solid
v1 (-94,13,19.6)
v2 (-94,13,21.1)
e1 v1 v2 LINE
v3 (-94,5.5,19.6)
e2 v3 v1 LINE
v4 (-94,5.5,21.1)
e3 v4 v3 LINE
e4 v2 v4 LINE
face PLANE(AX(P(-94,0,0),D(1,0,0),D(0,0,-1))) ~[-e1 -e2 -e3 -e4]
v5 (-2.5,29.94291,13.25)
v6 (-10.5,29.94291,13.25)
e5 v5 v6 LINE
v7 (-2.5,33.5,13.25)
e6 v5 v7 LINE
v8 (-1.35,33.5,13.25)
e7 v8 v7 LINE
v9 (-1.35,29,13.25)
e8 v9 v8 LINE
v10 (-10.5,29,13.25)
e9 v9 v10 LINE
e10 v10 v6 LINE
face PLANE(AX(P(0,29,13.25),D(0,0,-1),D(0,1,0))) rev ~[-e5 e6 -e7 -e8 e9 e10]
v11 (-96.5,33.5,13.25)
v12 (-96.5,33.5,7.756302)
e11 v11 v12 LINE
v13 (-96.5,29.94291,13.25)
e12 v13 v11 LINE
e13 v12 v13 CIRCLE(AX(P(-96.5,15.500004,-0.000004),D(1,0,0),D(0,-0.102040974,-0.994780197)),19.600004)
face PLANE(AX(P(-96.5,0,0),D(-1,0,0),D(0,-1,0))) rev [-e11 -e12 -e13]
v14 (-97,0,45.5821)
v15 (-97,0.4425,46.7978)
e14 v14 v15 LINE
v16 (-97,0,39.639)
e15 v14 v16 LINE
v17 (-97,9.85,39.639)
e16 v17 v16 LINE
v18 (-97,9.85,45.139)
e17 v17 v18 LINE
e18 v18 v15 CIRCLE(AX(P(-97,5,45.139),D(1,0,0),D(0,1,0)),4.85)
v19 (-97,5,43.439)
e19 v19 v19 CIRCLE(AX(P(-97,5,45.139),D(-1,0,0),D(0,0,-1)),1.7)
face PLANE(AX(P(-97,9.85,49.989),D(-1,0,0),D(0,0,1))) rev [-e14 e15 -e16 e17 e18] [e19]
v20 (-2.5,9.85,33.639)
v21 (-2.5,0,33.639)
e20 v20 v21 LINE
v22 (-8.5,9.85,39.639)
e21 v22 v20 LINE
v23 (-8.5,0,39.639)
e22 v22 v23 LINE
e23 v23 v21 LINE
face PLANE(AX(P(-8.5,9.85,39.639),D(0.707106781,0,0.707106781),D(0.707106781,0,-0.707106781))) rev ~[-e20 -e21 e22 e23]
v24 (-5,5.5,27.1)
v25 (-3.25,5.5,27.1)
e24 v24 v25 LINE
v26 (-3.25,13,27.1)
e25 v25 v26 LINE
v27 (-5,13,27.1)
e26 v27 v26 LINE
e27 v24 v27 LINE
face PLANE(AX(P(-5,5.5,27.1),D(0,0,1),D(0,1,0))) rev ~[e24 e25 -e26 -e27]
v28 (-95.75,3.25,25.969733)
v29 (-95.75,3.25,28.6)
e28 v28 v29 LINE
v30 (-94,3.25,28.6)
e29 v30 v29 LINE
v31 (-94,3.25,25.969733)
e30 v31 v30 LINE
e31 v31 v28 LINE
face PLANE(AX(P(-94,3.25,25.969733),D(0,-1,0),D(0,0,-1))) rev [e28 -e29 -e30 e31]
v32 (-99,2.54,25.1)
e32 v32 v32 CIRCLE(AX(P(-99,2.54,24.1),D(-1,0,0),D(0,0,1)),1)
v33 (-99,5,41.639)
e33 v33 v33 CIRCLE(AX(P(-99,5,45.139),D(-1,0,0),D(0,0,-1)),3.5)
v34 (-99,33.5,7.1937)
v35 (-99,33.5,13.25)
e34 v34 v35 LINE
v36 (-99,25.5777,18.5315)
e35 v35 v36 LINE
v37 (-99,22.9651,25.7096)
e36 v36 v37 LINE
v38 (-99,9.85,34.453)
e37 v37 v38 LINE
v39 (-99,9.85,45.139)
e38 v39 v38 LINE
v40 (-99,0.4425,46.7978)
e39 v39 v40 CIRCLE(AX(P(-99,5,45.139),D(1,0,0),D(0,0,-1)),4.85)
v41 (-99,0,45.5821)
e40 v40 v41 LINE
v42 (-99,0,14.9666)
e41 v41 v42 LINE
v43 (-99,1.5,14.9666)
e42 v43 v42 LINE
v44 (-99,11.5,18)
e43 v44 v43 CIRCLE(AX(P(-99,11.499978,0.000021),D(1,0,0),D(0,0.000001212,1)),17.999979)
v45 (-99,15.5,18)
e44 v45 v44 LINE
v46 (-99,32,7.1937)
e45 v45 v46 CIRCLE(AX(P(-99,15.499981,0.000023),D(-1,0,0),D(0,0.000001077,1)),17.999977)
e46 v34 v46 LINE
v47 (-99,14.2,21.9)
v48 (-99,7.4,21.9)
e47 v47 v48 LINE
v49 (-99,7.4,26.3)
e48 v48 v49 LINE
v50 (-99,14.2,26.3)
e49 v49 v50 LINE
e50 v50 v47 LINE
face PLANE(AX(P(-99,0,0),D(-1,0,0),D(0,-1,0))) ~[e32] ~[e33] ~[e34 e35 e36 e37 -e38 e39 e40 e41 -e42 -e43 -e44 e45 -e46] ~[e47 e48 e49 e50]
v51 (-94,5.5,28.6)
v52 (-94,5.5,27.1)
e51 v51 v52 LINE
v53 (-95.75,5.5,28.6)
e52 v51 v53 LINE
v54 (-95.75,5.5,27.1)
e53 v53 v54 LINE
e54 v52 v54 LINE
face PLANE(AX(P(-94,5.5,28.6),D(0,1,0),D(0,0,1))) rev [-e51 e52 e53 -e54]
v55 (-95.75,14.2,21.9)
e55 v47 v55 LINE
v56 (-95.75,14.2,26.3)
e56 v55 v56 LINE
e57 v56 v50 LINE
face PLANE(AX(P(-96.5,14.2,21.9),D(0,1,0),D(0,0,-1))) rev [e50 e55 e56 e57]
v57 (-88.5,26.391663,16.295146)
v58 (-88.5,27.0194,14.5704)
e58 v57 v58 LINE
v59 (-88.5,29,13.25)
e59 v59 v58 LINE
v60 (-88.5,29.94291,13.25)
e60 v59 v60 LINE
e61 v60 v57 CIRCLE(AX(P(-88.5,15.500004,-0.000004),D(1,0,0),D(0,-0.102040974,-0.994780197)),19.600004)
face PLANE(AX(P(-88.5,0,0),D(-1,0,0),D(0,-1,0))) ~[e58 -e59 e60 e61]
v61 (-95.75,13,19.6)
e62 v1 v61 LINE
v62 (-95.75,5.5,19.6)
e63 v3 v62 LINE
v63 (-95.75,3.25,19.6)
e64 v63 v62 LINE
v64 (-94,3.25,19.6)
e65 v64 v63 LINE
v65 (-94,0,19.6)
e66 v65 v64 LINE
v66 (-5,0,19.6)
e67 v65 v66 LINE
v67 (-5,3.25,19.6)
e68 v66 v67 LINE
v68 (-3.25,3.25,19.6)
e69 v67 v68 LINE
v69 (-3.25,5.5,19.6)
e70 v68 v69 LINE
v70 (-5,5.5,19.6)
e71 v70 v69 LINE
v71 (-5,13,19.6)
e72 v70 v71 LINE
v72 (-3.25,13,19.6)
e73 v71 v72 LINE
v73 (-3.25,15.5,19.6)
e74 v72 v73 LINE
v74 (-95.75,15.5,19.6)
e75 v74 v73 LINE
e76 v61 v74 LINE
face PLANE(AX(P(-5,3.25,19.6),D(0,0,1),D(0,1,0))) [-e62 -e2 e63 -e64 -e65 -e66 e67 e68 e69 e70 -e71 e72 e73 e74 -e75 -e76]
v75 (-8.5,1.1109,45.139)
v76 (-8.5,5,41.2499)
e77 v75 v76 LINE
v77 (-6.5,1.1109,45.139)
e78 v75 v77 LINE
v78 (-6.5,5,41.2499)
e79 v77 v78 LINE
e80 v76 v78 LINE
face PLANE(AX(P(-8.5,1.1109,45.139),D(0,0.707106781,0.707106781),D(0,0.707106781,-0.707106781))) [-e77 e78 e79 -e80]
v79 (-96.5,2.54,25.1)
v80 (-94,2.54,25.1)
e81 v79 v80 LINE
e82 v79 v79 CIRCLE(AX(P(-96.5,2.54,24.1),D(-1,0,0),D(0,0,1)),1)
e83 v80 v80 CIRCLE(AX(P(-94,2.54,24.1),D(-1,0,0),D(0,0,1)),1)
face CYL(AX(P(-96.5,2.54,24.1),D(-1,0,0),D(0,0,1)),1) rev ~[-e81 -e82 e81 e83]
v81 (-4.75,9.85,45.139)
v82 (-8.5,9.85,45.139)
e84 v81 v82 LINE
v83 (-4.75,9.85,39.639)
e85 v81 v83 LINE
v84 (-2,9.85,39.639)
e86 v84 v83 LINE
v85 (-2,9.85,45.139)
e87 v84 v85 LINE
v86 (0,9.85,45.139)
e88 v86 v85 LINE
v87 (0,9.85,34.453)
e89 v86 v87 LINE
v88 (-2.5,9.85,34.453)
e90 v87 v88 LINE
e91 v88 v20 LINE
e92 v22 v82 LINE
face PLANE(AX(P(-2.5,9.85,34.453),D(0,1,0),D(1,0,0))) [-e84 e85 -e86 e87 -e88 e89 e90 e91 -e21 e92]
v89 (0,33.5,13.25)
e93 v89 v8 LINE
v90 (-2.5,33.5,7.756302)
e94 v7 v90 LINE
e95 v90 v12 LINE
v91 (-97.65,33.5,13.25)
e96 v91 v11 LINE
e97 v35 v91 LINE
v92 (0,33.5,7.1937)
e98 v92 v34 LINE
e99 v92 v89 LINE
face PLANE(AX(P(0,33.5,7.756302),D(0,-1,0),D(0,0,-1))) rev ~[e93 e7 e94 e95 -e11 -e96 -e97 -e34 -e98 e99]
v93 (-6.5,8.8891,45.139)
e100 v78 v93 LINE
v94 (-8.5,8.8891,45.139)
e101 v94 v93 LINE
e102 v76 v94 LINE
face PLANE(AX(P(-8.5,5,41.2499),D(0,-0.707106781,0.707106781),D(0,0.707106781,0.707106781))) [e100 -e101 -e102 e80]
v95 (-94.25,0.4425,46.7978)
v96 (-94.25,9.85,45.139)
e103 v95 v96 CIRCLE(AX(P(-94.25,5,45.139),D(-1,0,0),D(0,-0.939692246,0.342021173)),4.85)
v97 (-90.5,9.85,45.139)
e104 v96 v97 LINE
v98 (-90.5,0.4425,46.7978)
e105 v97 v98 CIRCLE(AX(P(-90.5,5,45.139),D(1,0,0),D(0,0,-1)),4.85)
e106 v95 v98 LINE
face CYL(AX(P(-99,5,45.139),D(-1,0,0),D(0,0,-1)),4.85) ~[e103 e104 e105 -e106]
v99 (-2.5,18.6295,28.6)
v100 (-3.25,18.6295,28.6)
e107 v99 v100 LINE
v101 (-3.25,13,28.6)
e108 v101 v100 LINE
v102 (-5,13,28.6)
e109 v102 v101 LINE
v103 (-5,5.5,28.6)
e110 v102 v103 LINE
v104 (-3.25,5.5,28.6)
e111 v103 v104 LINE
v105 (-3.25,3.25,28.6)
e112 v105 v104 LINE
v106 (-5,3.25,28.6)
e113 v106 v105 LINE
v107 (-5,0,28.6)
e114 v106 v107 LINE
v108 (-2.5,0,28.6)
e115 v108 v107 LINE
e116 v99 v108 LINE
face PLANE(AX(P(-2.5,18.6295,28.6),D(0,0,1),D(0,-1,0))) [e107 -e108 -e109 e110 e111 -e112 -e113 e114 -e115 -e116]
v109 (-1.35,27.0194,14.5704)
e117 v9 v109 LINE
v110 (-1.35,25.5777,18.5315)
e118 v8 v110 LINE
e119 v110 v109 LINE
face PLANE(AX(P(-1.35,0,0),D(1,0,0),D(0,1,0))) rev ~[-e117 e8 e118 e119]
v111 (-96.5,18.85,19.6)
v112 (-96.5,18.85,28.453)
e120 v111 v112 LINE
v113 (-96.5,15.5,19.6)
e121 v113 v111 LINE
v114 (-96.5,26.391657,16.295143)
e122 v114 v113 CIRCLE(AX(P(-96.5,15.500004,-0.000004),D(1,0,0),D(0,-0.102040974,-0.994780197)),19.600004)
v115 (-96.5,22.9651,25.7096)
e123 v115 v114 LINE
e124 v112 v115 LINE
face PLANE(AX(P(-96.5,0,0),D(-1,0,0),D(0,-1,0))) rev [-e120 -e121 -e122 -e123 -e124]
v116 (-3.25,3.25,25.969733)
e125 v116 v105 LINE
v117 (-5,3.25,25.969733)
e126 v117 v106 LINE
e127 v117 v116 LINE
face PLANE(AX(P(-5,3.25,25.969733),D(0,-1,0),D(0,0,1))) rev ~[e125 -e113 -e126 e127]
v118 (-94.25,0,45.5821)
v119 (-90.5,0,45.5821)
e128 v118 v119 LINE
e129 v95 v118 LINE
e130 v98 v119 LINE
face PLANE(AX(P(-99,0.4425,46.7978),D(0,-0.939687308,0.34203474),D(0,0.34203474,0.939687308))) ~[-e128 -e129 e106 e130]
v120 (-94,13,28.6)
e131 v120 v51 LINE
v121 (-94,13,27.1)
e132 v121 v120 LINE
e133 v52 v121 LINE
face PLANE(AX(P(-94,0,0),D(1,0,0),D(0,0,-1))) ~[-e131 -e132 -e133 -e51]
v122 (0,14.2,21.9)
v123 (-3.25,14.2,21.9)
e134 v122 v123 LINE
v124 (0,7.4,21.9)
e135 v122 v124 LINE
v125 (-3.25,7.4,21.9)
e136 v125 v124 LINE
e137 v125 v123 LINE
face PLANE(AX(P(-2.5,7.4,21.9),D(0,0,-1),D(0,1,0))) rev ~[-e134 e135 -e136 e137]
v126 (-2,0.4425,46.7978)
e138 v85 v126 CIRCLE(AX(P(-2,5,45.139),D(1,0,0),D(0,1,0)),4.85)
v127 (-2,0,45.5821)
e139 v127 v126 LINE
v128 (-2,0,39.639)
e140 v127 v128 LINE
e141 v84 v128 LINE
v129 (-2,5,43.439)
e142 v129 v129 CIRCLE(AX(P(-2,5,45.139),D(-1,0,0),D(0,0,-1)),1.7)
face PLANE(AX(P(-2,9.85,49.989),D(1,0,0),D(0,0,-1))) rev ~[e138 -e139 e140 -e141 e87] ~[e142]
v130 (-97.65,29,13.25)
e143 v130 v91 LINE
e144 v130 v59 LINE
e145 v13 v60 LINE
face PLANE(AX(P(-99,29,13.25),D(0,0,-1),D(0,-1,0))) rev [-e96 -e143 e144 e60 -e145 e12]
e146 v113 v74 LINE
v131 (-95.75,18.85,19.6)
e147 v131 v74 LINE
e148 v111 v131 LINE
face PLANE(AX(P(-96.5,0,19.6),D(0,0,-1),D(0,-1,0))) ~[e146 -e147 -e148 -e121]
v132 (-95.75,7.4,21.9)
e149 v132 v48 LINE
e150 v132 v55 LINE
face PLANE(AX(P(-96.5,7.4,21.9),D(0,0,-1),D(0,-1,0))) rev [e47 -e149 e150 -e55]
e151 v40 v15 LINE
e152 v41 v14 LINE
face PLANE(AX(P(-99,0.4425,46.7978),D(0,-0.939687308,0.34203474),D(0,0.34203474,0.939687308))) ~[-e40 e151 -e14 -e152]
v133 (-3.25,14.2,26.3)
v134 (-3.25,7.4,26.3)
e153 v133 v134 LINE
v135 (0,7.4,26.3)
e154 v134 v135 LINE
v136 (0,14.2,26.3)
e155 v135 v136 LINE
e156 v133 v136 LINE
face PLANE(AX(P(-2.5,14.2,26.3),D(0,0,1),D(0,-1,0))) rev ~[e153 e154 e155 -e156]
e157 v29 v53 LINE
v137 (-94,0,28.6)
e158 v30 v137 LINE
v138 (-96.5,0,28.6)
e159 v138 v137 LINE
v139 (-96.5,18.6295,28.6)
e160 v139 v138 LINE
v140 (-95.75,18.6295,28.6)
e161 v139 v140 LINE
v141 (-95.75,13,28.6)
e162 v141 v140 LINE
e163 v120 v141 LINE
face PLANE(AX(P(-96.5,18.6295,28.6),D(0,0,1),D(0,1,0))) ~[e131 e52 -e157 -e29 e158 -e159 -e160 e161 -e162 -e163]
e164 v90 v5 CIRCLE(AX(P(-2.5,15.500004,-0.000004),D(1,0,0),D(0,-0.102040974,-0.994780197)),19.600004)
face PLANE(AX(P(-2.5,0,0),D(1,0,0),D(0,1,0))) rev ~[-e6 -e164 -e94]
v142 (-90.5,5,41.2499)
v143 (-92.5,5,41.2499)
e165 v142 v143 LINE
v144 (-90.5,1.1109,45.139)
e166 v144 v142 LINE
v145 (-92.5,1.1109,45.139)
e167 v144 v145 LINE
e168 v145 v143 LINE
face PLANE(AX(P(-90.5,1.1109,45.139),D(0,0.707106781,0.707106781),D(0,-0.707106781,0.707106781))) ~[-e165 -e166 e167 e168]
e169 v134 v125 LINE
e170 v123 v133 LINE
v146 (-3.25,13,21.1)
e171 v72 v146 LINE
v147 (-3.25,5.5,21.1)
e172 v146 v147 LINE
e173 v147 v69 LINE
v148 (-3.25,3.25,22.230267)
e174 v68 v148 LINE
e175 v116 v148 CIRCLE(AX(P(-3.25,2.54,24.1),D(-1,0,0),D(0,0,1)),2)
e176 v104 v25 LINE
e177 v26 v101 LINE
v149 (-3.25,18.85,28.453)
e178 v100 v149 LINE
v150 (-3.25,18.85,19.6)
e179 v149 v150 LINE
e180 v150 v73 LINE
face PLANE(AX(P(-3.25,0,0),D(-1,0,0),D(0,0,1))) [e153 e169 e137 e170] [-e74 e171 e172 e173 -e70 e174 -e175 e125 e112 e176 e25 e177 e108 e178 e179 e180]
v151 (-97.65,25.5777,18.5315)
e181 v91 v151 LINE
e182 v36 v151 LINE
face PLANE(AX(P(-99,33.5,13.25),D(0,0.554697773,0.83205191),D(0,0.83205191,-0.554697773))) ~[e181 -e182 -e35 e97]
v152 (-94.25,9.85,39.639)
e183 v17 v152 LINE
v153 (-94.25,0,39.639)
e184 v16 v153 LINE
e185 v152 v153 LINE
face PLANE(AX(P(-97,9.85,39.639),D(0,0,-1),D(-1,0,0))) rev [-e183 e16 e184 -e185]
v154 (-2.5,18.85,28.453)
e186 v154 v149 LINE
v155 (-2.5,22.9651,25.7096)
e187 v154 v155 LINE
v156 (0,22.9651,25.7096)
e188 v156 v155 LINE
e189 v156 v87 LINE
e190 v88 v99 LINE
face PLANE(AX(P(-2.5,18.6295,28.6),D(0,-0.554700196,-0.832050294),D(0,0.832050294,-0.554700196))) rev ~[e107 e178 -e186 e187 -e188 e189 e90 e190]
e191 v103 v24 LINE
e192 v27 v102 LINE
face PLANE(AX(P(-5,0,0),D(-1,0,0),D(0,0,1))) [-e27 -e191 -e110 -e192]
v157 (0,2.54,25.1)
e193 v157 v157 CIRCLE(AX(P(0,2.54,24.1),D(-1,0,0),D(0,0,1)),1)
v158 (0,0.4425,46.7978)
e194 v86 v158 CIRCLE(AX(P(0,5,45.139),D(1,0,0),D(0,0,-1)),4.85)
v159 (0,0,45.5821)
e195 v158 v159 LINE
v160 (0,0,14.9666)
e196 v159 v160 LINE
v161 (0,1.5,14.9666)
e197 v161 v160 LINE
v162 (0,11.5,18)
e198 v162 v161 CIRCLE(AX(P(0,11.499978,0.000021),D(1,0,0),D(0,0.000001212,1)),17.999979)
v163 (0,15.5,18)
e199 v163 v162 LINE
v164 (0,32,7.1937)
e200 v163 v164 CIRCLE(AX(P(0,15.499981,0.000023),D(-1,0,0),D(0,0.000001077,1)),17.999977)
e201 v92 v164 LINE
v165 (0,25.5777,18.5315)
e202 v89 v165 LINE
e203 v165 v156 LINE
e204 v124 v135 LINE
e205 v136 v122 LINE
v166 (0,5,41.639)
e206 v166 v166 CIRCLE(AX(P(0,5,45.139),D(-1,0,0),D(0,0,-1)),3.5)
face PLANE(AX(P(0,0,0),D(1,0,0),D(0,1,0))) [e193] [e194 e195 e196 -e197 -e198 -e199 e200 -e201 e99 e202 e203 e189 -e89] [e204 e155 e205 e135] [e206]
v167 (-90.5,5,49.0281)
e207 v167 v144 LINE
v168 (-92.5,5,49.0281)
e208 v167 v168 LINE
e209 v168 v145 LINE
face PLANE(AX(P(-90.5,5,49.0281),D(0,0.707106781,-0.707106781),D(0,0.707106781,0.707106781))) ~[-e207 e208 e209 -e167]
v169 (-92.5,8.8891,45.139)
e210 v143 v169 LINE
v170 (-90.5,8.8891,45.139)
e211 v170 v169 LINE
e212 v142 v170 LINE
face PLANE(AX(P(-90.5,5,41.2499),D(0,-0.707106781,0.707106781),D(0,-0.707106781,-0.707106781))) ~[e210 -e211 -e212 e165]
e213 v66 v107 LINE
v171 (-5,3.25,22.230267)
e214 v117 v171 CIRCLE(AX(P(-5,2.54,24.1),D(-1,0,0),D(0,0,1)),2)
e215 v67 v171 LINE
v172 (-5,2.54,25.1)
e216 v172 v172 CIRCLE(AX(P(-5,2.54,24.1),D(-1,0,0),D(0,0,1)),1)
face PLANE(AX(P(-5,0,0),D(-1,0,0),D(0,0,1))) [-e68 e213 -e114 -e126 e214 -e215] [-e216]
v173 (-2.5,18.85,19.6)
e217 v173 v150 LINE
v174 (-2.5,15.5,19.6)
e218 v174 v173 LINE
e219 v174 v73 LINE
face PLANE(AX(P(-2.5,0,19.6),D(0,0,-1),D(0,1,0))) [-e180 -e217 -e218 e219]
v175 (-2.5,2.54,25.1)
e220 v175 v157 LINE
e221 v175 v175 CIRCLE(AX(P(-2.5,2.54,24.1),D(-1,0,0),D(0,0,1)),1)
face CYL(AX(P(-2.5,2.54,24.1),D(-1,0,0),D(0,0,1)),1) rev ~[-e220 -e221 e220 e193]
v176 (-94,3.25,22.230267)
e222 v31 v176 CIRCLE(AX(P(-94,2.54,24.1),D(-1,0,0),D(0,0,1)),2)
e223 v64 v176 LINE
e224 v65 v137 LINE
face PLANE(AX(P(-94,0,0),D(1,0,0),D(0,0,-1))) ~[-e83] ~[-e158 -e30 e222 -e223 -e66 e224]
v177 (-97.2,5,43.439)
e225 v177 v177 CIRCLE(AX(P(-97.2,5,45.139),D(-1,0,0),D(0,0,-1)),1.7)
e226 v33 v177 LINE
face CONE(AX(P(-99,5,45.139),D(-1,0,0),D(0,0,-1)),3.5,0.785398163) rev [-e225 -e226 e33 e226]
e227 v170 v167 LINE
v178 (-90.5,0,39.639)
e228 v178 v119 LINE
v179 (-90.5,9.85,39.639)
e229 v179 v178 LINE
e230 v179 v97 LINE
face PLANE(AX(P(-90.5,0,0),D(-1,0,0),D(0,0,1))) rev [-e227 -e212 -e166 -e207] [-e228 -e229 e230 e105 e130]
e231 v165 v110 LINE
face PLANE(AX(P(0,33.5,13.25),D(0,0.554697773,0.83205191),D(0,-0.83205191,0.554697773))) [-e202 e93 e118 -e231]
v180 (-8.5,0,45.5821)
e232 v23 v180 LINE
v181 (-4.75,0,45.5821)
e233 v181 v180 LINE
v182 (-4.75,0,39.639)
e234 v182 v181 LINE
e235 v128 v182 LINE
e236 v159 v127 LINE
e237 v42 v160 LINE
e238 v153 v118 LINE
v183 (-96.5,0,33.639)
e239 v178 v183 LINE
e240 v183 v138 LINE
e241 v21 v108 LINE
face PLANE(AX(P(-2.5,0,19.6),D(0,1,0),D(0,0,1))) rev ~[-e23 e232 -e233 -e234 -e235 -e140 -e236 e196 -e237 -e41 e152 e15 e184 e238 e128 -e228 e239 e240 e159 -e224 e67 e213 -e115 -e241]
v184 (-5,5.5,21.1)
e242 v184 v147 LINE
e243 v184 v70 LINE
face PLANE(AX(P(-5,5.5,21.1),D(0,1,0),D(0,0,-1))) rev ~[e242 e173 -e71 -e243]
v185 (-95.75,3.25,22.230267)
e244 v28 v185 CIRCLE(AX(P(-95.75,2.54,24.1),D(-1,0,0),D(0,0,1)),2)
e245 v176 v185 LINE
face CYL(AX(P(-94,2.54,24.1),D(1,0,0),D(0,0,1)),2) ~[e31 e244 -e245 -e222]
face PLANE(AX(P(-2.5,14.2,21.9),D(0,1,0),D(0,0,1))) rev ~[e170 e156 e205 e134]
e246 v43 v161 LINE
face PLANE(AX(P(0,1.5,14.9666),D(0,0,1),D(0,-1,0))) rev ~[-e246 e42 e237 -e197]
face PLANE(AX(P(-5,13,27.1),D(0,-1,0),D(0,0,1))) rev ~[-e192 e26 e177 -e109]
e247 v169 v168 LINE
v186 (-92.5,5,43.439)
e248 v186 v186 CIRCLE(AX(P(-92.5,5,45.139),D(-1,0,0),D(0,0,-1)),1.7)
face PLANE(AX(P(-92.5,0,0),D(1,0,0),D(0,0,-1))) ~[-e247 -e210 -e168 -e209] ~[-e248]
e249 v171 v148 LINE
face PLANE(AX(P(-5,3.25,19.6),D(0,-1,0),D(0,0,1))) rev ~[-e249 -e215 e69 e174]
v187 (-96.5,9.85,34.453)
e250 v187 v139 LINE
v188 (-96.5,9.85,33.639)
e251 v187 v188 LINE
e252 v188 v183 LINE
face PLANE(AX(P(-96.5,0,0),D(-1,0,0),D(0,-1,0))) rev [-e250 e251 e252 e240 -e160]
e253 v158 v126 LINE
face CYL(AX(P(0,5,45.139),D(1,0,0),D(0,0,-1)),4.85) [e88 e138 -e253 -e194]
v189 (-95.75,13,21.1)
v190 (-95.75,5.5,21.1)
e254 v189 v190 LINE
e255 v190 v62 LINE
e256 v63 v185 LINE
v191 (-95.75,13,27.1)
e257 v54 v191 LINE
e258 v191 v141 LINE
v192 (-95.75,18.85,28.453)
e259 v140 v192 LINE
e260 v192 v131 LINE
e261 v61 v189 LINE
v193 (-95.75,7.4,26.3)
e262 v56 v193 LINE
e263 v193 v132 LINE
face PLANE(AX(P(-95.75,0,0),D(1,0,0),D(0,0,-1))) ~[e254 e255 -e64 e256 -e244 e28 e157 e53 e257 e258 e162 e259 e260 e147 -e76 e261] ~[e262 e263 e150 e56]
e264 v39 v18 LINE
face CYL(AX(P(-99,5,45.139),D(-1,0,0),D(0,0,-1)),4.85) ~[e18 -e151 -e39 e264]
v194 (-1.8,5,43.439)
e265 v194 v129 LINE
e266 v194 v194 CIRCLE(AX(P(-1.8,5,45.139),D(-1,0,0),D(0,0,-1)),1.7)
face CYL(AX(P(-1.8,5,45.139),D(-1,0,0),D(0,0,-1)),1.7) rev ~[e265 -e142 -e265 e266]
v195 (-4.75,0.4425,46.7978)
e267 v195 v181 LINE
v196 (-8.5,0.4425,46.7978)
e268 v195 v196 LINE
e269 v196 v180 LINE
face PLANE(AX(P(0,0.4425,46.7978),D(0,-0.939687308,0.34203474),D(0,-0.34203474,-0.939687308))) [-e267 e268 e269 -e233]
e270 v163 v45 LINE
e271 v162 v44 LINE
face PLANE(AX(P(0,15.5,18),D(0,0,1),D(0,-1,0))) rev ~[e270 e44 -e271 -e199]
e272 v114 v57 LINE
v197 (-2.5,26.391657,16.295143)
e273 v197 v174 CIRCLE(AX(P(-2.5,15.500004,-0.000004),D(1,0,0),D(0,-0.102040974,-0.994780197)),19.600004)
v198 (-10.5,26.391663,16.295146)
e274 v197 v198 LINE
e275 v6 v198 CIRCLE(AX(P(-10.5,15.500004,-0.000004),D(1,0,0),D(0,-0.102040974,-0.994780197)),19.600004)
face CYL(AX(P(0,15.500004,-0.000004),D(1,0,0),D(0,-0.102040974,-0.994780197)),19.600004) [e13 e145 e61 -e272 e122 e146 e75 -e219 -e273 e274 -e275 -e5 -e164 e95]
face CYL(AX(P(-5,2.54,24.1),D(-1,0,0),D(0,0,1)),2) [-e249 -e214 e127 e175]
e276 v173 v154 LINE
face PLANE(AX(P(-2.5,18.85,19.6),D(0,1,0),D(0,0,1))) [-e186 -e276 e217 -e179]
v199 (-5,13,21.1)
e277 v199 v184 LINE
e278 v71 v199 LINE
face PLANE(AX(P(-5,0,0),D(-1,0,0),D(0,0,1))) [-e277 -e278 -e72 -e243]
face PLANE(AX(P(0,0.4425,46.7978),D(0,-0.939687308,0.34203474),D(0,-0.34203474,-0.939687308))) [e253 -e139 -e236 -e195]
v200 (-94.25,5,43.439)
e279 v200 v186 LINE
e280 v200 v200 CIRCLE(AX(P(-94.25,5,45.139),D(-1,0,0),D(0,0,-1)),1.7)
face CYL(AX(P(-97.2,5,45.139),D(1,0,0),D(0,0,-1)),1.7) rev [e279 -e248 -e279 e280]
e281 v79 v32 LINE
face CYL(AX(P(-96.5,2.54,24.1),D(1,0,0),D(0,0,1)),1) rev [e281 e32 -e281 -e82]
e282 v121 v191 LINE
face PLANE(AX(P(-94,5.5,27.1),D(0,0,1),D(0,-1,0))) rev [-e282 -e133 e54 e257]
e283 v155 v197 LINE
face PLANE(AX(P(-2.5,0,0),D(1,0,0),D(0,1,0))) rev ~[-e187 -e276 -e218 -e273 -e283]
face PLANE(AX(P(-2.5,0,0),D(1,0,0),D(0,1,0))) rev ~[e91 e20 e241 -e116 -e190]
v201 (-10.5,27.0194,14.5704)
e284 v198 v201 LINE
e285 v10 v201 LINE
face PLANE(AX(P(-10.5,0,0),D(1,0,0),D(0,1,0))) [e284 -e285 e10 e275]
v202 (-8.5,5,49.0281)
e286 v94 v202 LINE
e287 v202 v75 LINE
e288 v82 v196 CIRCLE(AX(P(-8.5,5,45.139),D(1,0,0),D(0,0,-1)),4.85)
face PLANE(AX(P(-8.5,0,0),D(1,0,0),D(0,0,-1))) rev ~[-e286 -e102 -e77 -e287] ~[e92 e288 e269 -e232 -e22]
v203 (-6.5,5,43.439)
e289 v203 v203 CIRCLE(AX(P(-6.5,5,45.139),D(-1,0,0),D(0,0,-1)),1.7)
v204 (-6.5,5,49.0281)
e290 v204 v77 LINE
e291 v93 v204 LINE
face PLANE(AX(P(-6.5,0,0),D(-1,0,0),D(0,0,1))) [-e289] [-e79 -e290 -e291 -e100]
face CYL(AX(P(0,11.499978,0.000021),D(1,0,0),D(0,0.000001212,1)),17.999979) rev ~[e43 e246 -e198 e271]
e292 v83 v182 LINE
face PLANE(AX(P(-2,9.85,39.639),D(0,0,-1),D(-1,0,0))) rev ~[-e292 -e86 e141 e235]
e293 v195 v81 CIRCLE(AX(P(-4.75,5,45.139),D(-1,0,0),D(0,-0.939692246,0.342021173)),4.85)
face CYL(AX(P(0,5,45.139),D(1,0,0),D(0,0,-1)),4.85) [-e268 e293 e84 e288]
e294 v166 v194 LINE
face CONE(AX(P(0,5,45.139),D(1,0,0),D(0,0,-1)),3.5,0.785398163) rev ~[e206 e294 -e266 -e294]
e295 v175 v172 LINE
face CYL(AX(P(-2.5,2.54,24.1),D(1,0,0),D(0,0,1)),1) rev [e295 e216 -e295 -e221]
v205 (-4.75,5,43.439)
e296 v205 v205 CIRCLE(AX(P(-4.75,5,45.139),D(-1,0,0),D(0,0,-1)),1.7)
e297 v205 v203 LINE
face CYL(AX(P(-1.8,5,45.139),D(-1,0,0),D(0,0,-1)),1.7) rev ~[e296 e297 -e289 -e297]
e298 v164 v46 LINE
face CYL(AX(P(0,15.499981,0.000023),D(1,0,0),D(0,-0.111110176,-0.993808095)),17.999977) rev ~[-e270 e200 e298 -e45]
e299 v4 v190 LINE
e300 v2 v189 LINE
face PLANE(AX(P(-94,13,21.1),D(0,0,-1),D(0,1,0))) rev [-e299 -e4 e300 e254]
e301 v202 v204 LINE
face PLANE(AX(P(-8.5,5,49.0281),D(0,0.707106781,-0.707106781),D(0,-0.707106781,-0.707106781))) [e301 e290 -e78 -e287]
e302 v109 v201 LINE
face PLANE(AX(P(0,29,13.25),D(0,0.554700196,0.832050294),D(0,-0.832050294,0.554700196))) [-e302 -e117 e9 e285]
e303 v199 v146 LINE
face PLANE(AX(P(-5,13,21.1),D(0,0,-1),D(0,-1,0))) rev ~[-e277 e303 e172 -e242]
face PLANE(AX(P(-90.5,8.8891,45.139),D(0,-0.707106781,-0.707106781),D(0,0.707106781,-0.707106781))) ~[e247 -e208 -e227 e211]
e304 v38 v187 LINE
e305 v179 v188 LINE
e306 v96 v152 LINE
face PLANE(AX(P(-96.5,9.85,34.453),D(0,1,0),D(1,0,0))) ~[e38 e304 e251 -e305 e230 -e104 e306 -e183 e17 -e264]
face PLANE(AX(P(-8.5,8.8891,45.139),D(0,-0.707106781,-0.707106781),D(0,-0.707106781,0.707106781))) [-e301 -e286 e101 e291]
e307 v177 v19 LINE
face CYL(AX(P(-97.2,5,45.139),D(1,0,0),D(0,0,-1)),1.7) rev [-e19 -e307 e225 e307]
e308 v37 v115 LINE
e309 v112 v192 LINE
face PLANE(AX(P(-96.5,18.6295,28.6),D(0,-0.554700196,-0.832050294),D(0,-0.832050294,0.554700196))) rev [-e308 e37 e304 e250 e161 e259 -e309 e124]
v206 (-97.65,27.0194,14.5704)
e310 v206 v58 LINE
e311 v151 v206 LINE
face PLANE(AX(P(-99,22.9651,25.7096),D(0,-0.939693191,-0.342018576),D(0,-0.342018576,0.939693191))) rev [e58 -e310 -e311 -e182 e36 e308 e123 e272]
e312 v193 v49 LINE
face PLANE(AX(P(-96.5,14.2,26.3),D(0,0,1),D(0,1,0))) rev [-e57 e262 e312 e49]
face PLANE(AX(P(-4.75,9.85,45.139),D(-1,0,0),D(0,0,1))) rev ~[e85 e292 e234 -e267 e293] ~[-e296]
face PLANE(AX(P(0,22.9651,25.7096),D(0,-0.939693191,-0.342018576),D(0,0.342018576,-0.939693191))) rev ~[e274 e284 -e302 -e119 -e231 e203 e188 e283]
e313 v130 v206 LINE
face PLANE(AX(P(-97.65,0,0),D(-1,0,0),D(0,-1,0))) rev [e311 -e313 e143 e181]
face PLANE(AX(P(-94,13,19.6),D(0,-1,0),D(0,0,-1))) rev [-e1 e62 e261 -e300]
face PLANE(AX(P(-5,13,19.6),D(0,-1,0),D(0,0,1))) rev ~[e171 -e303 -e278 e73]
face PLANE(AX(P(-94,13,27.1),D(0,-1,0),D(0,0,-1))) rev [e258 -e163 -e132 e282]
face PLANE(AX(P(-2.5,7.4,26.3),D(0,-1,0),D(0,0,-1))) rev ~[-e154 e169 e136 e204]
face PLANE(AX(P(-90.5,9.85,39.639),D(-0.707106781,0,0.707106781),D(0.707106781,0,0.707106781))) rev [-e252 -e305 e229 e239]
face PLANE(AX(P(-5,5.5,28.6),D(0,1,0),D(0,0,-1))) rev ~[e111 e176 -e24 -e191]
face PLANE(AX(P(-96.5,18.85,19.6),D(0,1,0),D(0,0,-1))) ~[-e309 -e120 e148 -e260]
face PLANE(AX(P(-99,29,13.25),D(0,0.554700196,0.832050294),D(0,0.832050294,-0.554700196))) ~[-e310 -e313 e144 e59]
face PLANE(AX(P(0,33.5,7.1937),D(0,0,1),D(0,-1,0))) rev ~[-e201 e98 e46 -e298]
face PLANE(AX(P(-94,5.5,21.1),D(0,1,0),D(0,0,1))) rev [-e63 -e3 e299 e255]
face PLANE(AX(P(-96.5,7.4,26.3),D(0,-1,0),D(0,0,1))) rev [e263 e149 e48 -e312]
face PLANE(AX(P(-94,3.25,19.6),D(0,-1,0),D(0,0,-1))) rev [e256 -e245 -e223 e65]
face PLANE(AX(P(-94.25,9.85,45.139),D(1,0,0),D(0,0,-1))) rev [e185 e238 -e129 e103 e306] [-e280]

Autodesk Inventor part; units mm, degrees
ref_plane "YZ Plane" through (0, 0, 0) normal (1, 0, 0) x (0, 1, 0)
ref_plane "XZ Plane" through (0, 0, 0) normal (0, 1, 0) x (-1, 0, 0)
ref_plane "XY Plane" through (0, 0, 0) normal (0, 0, 1) x (1, 0, 0)
sketch "Náčrt1" plane through (0, 0, 0) normal (1, 0, 0) x (0, 1, 0)
  circle A0 centre (13.5, 0) radius 16.5 construction
  circle A1 centre (15.5, 0) radius 16.5 construction
  circle A2 centre (11.5, 0) radius 16.5 construction
  line L0 (15.5, 16.5) -> (11.5, 16.5) construction
  line L1 (15.5, -16.5) -> (11.5, -16.5) construction
  circle A3 centre (5, 45.139) radius 5
  line L2 (0, 0) -> (0, 45.139)
  line L3 (10, 34.353) -> (22.9651, 25.7096)
  line L4 (10, 34.353) -> (10, 45.139)
  line L5 (22.9651, 25.7096) -> (27.5, 13.25)
  line L6 (27.5, 13.25) -> (33.5, 13.25)
  line L7 (33.5, 13.25) -> (25.5777, 18.5315)
  line L8 (33.5, 13.25) -> (33.5, 7.1937)
  line L9 (29, 13.25) -> (27.0194, 14.5704)
  arc A4 (13.5, -17.8885) -> (15.5, 18) centre (15.5, 0) ccw
  arc A5 (11.5, 18) -> (13.5, -17.8885) centre (11.5, 0) ccw
  line L10 (15.5, 18) -> (11.5, 18)
  line L11 (1.5, 14.9666) -> (0, 14.9666)
  line L12 (33.5, 7.1937) -> (32, 7.1937)
  arc A6 (13.5, -19.4977) -> (15.5, 19.6) centre (15.5, 0) ccw
  arc A7 (11.5, 19.6) -> (13.5, -19.4977) centre (11.5, 0) ccw
  line L13 (11.5, 19.6) -> (15.5, 19.6)
  line L14 (21.6, 28.6) -> (0, 28.6) construction
  line L15 (0, 28.6) -> (0, 19.6)
  line L16 (0, 19.6) -> (21.6, 19.6)
  line L17 (21.6, 19.6) -> (21.6, 28.6) construction
  line L18 (35.6, 21.5) -> (34, 21.5) construction
  line L19 (34, 21.5) -> (34, -16) construction
  line L20 (34, -16) -> (35.6, -16) construction
  line L21 (35.6, -16) -> (35.6, 21.5) construction
  line L22 (35.6, 17.75) -> (34, 17.75) construction
  line L23 (33.2196, 14.55) -> (26.5242, 14.55) construction
  line L24 (10, 39.639) -> (0, 39.639)
  line L25 (10, 34.353) -> (9.85, 34.453)
  line L26 (9.85, 34.453) -> (9.85, 39.639)
  point P0 (26.3917, 16.2951)
  point P1 (33.5, 7.7563)
  point P2 (29.9429, 13.25)
  dimension "d0" = 33
  dimension "d1" = 2
  dimension "d2" = 2
  dimension "d3" = 13.5
  dimension "d4" = 10
  dimension "d5" = 45.139
  dimension "d6" = 10.786
  dimension "d8" = 123.69
  dimension "d10" = 13.25
  dimension "d11" = 33.5
  dimension "d12" = 6
  dimension "d16" = 1.5
  dimension "d17" = 36
  dimension "d18" = 36
  dimension "d19" = 1.5
  dimension "d20" = 1.5
  dimension "d21" = 1.6
  dimension "d23" = 9
  dimension "d24" = 21.6
  dimension "d25" = 0.5
  dimension "d26" = 1.6
  dimension "d27" = 37.5
  dimension "d28" = 3.75
  dimension "d29" = 20.5
  dimension "d30" = 3.2
  dimension "d41" = 5.5
  dimension "d45" = 9.85
  dimension "d86" = 70
extrude "Vysunutí1" add sketch "Náčrt1" against normal blind 2.5 contours L24 L26 L25 L3 L5 A6 L13 L16 L2 | L16 A7 L2 | A7 L13 A6 L5 A4 L10 A5 L11 L2 | L8 A6 L6 | L9 L6 A4 L5 | A6 L8 L12 A4 L6
extrude "Vysunutí3" add sketch "Náčrt1" against normal blind 49.5 contours L16 A7 L2 | A7 L13 A6 L5 A4 L10 A5 L11 L2 | A6 L6 L9 L5 | L9 L6 A4 L5 | A6 L8 L12 A4 L6
extrude "Vysunutí4" cut sketch "Náčrt1" against normal blind 10.5 contours A6 L6 L9 L5
extrude "Vysunutí5" add sketch "Náčrt1" against normal blind 1.35 contours L7 L6 A6 L5 | A6 L6 L9 L5
sketch "Náčrt2" plane through (0, 0, 0) normal (1, 0, 0) x (0, 0, -1)
  circle A0 centre (-45.139, 5) radius 4.85
  line L0 (-46.7978, 0.4425) -> (-45.5821, 0)
  line L1 (-19.6, 0) -> (-39.639, 0) projected
  line L2 (-39.639, 0) -> (-45.5821, 0)
  line L3 (-39.639, 9.85) -> (-39.639, 0) projected
  line L4 (-39.639, 9.85) -> (-45.139, 9.85)
  line L5 (-45.139, 8.8891) -> (-49.0281, 5)
  line L6 (-49.0281, 5) -> (-45.139, 1.1109)
  line L7 (-45.139, 1.1109) -> (-41.2499, 5)
  line L8 (-41.2499, 5) -> (-45.139, 8.8891)
  line L9 (-45.139, 8.8891) -> (-45.139, 5) construction
  line L10 (-45.139, 5) -> (-41.2499, 5) construction
  line L11 (-45.139, 5) -> (-45.139, 1.1109) construction
  point P0 (0, 0)
  dimension "d42" = 9.7
  dimension "d44" = 20
  dimension "d47" = 5.5
extrude "Vysunutí6" add sketch "Náčrt2" against normal blind 8.5 contours A0 | A0 L4 L3 L2 L0 | L8 L7 L6 L5
sketch "Náčrt3" plane through (0, 0, 0) normal (1, 0, 0) x (0, 0, -1)
  arc A0 (-45.139, 9.85) -> (-46.7978, 0.4425) centre (-45.139, 5) ccw construction
  point P0 (0, 0)
hole "Díra1" at (0, 5, 45.139) direction (-1, 0, 0) diameter 3.4 end through all countersink diameter 7 countersink angle 90
sketch "Náčrt4" plane through (-8.5, 0, 0) normal (-1, 0, 0) x (0, 0, 1)
  line L0 (45.139, 1.1109) -> (41.2499, 5) projected
  line L1 (41.2499, 5) -> (45.139, 8.8891) projected
  line L2 (45.139, 8.8891) -> (49.0281, 5) projected
  line L3 (49.0281, 5) -> (45.139, 1.1109) projected
  point P0 (0, 0)
extrude "Vysunutí7" cut sketch "Náčrt4" against normal blind 2
sketch "Náčrt5" plane through (-2.5, 9.85, 34.453) normal (0, 1, 0) x (1, 0, 0)
  line L0 (2.5, -15.536) -> (-6, -15.536) projected
  line L1 (0.5, -15.536) -> (0.5, -5.186)
  line L2 (0.7, -12.386) -> (0.7, -8.986) projected
  line L3 (0.5, -5.186) -> (-2.25, -5.186)
  line L4 (-2.25, -5.186) -> (-2.25, -15.536)
  line L5 (2.5, 0) -> (2.5, -10.686) projected
  line L6 (2.5, -10.686) -> (-6, -10.686) projected
  line L7 (-6, -10.686) -> (-6, -5.186) projected
  line L8 (-6, -5.186) -> (0, 0.814)
  line L9 (0, 0) -> (0, 8.7433) projected
  line L10 (0, -5.186) -> (-6, -5.186) projected
  line L11 (0, -5.186) -> (0, 0) projected
  point P0 (2.5, 34.453)
  dimension "d59" = 2
  dimension "d60" = 2.75
  dimension "d61" = 5.5
  dimension "d62" = 45
extrude "Vysunutí8" add sketch "Náčrt5" against normal up to surface (9.85 mm away) contours L10 L8 L9 L11 L3
extrude "Vysunutí9" cut sketch "Náčrt5" against normal through all contours L0 L4 L6 L1 | L6 L4 L3 L1
sketch "Náčrt6" plane through (-2.5, 0, 0) normal (-1, 0, 0) x (0, 0, 1)
  line L0 (19.6, 21.6) -> (28.6, 21.6) projected
  line L1 (28.6, 21.6) -> (28.6, 0) projected
  line L2 (19.6, 0) -> (19.6, 21.6) projected
  line L3 (19.6, 0) -> (33.639, 0) projected
  circle A0 centre (24.1, 2.54) radius 1
  line L4 (22.9, 13.2) -> (25.3, 13.2)
  line L5 (25.3, 13.2) -> (25.3, 8.4)
  line L6 (25.3, 8.4) -> (22.9, 8.4)
  line L7 (22.9, 8.4) -> (22.9, 13.2)
  line L8 (21.9, 14.2) -> (26.3, 14.2)
  line L9 (26.3, 14.2) -> (26.3, 7.4)
  line L10 (26.3, 7.4) -> (21.9, 7.4)
  line L11 (21.9, 7.4) -> (21.9, 14.2)
  line L12 (34.453, 9.85) -> (25.7096, 22.9651) projected
  line L13 (19.6, 18.85) -> (28.6, 18.85)
  point P0 (0, 0)
  point P1 (24.1, 21.6)
  point P2 (24.1, 13.2)
  point P3 (28.453, 18.85)
  point P4 (28.6, 18.6295)
  dimension "d67" = 2.54
  dimension "d68" = 2
  dimension "d69" = 2.4
  dimension "d70" = 4.8
  dimension "d71" = 8.4
  dimension "d72" = 1
  dimension "d77" = 2.75
extrude "Vysunutí10" add sketch "Náčrt6" along normal blind 2.5 contours L13 L12 L1 L3 L2
extrude "Vysunutí11" cut sketch "Náčrt6" against normal through all contours A0 | L4 L5 L6 L7 | L8 L9 L10 L11
sketch "Náčrt7" plane through (-5, 0, 0) normal (-1, 0, 0) x (0, 0, 1)
  line L0 (19.6, 0) -> (19.6, 15.5) projected
  line L1 (19.6, 3.25) -> (28.6, 3.25)
  line L2 (28.6, 0) -> (28.6, 18.6295) projected
  line L3 (28.6, 5.5) -> (27.1, 5.5)
  line L4 (27.1, 5.5) -> (27.1, 13)
  line L5 (27.1, 13) -> (28.6, 13)
  line L6 (19.6, 13) -> (21.1, 13)
  line L7 (21.1, 13) -> (21.1, 5.5)
  line L8 (21.1, 5.5) -> (19.6, 5.5)
  circle A0 centre (24.1, 2.54) radius 1 projected
  line L9 (19.6, 0) -> (28.6, 0) projected
  circle A1 centre (24.1, 2.54) radius 2
  line L10 (19.6, 18.85) -> (19.6, 15.5) projected
  line L11 (19.6, 0) -> (19.6, 15.5) projected
  line L12 (19.6, 0) -> (28.6, 0) projected
  line L13 (28.6, 0) -> (28.6, 18.6295) projected
  line L14 (28.453, 18.85) -> (19.6, 18.85) projected
  line L15 (21.9, 14.2) -> (26.3, 14.2) projected
  line L16 (26.3, 14.2) -> (26.3, 7.4) projected
  line L17 (26.3, 7.4) -> (21.9, 7.4) projected
  line L18 (21.9, 7.4) -> (21.9, 14.2) projected
  circle A2 centre (24.1, 2.54) radius 1 projected
  line L19 (28.6, 18.6295) -> (28.453, 18.85) projected
  point P0 (0, 0)
  point P1 (28.6, 18.85)
  point P2 (28.6, 18.85)
  point P3 (22.2303, 3.25)
  point P4 (25.9697, 3.25)
  dimension "d78" = 1.5
  dimension "d79" = 7.5
  dimension "d80" = 13
  dimension "d82" = 3.25
  dimension "d83" = 1
extrude "Vysunutí12" cut sketch "Náčrt7" against normal blind 1.75 contours L0 L8 L7 L6 L10 L14 L19 L2 L5 L4 L3 L1 A1
mirror "Zrcadlit1" about plane through (-49.5, 16.75, 13.3969) normal (-1, 0, 0)
equation "\"d2\" = d1"
equation "\"d18\" = d17"
properties part number "body-main"
